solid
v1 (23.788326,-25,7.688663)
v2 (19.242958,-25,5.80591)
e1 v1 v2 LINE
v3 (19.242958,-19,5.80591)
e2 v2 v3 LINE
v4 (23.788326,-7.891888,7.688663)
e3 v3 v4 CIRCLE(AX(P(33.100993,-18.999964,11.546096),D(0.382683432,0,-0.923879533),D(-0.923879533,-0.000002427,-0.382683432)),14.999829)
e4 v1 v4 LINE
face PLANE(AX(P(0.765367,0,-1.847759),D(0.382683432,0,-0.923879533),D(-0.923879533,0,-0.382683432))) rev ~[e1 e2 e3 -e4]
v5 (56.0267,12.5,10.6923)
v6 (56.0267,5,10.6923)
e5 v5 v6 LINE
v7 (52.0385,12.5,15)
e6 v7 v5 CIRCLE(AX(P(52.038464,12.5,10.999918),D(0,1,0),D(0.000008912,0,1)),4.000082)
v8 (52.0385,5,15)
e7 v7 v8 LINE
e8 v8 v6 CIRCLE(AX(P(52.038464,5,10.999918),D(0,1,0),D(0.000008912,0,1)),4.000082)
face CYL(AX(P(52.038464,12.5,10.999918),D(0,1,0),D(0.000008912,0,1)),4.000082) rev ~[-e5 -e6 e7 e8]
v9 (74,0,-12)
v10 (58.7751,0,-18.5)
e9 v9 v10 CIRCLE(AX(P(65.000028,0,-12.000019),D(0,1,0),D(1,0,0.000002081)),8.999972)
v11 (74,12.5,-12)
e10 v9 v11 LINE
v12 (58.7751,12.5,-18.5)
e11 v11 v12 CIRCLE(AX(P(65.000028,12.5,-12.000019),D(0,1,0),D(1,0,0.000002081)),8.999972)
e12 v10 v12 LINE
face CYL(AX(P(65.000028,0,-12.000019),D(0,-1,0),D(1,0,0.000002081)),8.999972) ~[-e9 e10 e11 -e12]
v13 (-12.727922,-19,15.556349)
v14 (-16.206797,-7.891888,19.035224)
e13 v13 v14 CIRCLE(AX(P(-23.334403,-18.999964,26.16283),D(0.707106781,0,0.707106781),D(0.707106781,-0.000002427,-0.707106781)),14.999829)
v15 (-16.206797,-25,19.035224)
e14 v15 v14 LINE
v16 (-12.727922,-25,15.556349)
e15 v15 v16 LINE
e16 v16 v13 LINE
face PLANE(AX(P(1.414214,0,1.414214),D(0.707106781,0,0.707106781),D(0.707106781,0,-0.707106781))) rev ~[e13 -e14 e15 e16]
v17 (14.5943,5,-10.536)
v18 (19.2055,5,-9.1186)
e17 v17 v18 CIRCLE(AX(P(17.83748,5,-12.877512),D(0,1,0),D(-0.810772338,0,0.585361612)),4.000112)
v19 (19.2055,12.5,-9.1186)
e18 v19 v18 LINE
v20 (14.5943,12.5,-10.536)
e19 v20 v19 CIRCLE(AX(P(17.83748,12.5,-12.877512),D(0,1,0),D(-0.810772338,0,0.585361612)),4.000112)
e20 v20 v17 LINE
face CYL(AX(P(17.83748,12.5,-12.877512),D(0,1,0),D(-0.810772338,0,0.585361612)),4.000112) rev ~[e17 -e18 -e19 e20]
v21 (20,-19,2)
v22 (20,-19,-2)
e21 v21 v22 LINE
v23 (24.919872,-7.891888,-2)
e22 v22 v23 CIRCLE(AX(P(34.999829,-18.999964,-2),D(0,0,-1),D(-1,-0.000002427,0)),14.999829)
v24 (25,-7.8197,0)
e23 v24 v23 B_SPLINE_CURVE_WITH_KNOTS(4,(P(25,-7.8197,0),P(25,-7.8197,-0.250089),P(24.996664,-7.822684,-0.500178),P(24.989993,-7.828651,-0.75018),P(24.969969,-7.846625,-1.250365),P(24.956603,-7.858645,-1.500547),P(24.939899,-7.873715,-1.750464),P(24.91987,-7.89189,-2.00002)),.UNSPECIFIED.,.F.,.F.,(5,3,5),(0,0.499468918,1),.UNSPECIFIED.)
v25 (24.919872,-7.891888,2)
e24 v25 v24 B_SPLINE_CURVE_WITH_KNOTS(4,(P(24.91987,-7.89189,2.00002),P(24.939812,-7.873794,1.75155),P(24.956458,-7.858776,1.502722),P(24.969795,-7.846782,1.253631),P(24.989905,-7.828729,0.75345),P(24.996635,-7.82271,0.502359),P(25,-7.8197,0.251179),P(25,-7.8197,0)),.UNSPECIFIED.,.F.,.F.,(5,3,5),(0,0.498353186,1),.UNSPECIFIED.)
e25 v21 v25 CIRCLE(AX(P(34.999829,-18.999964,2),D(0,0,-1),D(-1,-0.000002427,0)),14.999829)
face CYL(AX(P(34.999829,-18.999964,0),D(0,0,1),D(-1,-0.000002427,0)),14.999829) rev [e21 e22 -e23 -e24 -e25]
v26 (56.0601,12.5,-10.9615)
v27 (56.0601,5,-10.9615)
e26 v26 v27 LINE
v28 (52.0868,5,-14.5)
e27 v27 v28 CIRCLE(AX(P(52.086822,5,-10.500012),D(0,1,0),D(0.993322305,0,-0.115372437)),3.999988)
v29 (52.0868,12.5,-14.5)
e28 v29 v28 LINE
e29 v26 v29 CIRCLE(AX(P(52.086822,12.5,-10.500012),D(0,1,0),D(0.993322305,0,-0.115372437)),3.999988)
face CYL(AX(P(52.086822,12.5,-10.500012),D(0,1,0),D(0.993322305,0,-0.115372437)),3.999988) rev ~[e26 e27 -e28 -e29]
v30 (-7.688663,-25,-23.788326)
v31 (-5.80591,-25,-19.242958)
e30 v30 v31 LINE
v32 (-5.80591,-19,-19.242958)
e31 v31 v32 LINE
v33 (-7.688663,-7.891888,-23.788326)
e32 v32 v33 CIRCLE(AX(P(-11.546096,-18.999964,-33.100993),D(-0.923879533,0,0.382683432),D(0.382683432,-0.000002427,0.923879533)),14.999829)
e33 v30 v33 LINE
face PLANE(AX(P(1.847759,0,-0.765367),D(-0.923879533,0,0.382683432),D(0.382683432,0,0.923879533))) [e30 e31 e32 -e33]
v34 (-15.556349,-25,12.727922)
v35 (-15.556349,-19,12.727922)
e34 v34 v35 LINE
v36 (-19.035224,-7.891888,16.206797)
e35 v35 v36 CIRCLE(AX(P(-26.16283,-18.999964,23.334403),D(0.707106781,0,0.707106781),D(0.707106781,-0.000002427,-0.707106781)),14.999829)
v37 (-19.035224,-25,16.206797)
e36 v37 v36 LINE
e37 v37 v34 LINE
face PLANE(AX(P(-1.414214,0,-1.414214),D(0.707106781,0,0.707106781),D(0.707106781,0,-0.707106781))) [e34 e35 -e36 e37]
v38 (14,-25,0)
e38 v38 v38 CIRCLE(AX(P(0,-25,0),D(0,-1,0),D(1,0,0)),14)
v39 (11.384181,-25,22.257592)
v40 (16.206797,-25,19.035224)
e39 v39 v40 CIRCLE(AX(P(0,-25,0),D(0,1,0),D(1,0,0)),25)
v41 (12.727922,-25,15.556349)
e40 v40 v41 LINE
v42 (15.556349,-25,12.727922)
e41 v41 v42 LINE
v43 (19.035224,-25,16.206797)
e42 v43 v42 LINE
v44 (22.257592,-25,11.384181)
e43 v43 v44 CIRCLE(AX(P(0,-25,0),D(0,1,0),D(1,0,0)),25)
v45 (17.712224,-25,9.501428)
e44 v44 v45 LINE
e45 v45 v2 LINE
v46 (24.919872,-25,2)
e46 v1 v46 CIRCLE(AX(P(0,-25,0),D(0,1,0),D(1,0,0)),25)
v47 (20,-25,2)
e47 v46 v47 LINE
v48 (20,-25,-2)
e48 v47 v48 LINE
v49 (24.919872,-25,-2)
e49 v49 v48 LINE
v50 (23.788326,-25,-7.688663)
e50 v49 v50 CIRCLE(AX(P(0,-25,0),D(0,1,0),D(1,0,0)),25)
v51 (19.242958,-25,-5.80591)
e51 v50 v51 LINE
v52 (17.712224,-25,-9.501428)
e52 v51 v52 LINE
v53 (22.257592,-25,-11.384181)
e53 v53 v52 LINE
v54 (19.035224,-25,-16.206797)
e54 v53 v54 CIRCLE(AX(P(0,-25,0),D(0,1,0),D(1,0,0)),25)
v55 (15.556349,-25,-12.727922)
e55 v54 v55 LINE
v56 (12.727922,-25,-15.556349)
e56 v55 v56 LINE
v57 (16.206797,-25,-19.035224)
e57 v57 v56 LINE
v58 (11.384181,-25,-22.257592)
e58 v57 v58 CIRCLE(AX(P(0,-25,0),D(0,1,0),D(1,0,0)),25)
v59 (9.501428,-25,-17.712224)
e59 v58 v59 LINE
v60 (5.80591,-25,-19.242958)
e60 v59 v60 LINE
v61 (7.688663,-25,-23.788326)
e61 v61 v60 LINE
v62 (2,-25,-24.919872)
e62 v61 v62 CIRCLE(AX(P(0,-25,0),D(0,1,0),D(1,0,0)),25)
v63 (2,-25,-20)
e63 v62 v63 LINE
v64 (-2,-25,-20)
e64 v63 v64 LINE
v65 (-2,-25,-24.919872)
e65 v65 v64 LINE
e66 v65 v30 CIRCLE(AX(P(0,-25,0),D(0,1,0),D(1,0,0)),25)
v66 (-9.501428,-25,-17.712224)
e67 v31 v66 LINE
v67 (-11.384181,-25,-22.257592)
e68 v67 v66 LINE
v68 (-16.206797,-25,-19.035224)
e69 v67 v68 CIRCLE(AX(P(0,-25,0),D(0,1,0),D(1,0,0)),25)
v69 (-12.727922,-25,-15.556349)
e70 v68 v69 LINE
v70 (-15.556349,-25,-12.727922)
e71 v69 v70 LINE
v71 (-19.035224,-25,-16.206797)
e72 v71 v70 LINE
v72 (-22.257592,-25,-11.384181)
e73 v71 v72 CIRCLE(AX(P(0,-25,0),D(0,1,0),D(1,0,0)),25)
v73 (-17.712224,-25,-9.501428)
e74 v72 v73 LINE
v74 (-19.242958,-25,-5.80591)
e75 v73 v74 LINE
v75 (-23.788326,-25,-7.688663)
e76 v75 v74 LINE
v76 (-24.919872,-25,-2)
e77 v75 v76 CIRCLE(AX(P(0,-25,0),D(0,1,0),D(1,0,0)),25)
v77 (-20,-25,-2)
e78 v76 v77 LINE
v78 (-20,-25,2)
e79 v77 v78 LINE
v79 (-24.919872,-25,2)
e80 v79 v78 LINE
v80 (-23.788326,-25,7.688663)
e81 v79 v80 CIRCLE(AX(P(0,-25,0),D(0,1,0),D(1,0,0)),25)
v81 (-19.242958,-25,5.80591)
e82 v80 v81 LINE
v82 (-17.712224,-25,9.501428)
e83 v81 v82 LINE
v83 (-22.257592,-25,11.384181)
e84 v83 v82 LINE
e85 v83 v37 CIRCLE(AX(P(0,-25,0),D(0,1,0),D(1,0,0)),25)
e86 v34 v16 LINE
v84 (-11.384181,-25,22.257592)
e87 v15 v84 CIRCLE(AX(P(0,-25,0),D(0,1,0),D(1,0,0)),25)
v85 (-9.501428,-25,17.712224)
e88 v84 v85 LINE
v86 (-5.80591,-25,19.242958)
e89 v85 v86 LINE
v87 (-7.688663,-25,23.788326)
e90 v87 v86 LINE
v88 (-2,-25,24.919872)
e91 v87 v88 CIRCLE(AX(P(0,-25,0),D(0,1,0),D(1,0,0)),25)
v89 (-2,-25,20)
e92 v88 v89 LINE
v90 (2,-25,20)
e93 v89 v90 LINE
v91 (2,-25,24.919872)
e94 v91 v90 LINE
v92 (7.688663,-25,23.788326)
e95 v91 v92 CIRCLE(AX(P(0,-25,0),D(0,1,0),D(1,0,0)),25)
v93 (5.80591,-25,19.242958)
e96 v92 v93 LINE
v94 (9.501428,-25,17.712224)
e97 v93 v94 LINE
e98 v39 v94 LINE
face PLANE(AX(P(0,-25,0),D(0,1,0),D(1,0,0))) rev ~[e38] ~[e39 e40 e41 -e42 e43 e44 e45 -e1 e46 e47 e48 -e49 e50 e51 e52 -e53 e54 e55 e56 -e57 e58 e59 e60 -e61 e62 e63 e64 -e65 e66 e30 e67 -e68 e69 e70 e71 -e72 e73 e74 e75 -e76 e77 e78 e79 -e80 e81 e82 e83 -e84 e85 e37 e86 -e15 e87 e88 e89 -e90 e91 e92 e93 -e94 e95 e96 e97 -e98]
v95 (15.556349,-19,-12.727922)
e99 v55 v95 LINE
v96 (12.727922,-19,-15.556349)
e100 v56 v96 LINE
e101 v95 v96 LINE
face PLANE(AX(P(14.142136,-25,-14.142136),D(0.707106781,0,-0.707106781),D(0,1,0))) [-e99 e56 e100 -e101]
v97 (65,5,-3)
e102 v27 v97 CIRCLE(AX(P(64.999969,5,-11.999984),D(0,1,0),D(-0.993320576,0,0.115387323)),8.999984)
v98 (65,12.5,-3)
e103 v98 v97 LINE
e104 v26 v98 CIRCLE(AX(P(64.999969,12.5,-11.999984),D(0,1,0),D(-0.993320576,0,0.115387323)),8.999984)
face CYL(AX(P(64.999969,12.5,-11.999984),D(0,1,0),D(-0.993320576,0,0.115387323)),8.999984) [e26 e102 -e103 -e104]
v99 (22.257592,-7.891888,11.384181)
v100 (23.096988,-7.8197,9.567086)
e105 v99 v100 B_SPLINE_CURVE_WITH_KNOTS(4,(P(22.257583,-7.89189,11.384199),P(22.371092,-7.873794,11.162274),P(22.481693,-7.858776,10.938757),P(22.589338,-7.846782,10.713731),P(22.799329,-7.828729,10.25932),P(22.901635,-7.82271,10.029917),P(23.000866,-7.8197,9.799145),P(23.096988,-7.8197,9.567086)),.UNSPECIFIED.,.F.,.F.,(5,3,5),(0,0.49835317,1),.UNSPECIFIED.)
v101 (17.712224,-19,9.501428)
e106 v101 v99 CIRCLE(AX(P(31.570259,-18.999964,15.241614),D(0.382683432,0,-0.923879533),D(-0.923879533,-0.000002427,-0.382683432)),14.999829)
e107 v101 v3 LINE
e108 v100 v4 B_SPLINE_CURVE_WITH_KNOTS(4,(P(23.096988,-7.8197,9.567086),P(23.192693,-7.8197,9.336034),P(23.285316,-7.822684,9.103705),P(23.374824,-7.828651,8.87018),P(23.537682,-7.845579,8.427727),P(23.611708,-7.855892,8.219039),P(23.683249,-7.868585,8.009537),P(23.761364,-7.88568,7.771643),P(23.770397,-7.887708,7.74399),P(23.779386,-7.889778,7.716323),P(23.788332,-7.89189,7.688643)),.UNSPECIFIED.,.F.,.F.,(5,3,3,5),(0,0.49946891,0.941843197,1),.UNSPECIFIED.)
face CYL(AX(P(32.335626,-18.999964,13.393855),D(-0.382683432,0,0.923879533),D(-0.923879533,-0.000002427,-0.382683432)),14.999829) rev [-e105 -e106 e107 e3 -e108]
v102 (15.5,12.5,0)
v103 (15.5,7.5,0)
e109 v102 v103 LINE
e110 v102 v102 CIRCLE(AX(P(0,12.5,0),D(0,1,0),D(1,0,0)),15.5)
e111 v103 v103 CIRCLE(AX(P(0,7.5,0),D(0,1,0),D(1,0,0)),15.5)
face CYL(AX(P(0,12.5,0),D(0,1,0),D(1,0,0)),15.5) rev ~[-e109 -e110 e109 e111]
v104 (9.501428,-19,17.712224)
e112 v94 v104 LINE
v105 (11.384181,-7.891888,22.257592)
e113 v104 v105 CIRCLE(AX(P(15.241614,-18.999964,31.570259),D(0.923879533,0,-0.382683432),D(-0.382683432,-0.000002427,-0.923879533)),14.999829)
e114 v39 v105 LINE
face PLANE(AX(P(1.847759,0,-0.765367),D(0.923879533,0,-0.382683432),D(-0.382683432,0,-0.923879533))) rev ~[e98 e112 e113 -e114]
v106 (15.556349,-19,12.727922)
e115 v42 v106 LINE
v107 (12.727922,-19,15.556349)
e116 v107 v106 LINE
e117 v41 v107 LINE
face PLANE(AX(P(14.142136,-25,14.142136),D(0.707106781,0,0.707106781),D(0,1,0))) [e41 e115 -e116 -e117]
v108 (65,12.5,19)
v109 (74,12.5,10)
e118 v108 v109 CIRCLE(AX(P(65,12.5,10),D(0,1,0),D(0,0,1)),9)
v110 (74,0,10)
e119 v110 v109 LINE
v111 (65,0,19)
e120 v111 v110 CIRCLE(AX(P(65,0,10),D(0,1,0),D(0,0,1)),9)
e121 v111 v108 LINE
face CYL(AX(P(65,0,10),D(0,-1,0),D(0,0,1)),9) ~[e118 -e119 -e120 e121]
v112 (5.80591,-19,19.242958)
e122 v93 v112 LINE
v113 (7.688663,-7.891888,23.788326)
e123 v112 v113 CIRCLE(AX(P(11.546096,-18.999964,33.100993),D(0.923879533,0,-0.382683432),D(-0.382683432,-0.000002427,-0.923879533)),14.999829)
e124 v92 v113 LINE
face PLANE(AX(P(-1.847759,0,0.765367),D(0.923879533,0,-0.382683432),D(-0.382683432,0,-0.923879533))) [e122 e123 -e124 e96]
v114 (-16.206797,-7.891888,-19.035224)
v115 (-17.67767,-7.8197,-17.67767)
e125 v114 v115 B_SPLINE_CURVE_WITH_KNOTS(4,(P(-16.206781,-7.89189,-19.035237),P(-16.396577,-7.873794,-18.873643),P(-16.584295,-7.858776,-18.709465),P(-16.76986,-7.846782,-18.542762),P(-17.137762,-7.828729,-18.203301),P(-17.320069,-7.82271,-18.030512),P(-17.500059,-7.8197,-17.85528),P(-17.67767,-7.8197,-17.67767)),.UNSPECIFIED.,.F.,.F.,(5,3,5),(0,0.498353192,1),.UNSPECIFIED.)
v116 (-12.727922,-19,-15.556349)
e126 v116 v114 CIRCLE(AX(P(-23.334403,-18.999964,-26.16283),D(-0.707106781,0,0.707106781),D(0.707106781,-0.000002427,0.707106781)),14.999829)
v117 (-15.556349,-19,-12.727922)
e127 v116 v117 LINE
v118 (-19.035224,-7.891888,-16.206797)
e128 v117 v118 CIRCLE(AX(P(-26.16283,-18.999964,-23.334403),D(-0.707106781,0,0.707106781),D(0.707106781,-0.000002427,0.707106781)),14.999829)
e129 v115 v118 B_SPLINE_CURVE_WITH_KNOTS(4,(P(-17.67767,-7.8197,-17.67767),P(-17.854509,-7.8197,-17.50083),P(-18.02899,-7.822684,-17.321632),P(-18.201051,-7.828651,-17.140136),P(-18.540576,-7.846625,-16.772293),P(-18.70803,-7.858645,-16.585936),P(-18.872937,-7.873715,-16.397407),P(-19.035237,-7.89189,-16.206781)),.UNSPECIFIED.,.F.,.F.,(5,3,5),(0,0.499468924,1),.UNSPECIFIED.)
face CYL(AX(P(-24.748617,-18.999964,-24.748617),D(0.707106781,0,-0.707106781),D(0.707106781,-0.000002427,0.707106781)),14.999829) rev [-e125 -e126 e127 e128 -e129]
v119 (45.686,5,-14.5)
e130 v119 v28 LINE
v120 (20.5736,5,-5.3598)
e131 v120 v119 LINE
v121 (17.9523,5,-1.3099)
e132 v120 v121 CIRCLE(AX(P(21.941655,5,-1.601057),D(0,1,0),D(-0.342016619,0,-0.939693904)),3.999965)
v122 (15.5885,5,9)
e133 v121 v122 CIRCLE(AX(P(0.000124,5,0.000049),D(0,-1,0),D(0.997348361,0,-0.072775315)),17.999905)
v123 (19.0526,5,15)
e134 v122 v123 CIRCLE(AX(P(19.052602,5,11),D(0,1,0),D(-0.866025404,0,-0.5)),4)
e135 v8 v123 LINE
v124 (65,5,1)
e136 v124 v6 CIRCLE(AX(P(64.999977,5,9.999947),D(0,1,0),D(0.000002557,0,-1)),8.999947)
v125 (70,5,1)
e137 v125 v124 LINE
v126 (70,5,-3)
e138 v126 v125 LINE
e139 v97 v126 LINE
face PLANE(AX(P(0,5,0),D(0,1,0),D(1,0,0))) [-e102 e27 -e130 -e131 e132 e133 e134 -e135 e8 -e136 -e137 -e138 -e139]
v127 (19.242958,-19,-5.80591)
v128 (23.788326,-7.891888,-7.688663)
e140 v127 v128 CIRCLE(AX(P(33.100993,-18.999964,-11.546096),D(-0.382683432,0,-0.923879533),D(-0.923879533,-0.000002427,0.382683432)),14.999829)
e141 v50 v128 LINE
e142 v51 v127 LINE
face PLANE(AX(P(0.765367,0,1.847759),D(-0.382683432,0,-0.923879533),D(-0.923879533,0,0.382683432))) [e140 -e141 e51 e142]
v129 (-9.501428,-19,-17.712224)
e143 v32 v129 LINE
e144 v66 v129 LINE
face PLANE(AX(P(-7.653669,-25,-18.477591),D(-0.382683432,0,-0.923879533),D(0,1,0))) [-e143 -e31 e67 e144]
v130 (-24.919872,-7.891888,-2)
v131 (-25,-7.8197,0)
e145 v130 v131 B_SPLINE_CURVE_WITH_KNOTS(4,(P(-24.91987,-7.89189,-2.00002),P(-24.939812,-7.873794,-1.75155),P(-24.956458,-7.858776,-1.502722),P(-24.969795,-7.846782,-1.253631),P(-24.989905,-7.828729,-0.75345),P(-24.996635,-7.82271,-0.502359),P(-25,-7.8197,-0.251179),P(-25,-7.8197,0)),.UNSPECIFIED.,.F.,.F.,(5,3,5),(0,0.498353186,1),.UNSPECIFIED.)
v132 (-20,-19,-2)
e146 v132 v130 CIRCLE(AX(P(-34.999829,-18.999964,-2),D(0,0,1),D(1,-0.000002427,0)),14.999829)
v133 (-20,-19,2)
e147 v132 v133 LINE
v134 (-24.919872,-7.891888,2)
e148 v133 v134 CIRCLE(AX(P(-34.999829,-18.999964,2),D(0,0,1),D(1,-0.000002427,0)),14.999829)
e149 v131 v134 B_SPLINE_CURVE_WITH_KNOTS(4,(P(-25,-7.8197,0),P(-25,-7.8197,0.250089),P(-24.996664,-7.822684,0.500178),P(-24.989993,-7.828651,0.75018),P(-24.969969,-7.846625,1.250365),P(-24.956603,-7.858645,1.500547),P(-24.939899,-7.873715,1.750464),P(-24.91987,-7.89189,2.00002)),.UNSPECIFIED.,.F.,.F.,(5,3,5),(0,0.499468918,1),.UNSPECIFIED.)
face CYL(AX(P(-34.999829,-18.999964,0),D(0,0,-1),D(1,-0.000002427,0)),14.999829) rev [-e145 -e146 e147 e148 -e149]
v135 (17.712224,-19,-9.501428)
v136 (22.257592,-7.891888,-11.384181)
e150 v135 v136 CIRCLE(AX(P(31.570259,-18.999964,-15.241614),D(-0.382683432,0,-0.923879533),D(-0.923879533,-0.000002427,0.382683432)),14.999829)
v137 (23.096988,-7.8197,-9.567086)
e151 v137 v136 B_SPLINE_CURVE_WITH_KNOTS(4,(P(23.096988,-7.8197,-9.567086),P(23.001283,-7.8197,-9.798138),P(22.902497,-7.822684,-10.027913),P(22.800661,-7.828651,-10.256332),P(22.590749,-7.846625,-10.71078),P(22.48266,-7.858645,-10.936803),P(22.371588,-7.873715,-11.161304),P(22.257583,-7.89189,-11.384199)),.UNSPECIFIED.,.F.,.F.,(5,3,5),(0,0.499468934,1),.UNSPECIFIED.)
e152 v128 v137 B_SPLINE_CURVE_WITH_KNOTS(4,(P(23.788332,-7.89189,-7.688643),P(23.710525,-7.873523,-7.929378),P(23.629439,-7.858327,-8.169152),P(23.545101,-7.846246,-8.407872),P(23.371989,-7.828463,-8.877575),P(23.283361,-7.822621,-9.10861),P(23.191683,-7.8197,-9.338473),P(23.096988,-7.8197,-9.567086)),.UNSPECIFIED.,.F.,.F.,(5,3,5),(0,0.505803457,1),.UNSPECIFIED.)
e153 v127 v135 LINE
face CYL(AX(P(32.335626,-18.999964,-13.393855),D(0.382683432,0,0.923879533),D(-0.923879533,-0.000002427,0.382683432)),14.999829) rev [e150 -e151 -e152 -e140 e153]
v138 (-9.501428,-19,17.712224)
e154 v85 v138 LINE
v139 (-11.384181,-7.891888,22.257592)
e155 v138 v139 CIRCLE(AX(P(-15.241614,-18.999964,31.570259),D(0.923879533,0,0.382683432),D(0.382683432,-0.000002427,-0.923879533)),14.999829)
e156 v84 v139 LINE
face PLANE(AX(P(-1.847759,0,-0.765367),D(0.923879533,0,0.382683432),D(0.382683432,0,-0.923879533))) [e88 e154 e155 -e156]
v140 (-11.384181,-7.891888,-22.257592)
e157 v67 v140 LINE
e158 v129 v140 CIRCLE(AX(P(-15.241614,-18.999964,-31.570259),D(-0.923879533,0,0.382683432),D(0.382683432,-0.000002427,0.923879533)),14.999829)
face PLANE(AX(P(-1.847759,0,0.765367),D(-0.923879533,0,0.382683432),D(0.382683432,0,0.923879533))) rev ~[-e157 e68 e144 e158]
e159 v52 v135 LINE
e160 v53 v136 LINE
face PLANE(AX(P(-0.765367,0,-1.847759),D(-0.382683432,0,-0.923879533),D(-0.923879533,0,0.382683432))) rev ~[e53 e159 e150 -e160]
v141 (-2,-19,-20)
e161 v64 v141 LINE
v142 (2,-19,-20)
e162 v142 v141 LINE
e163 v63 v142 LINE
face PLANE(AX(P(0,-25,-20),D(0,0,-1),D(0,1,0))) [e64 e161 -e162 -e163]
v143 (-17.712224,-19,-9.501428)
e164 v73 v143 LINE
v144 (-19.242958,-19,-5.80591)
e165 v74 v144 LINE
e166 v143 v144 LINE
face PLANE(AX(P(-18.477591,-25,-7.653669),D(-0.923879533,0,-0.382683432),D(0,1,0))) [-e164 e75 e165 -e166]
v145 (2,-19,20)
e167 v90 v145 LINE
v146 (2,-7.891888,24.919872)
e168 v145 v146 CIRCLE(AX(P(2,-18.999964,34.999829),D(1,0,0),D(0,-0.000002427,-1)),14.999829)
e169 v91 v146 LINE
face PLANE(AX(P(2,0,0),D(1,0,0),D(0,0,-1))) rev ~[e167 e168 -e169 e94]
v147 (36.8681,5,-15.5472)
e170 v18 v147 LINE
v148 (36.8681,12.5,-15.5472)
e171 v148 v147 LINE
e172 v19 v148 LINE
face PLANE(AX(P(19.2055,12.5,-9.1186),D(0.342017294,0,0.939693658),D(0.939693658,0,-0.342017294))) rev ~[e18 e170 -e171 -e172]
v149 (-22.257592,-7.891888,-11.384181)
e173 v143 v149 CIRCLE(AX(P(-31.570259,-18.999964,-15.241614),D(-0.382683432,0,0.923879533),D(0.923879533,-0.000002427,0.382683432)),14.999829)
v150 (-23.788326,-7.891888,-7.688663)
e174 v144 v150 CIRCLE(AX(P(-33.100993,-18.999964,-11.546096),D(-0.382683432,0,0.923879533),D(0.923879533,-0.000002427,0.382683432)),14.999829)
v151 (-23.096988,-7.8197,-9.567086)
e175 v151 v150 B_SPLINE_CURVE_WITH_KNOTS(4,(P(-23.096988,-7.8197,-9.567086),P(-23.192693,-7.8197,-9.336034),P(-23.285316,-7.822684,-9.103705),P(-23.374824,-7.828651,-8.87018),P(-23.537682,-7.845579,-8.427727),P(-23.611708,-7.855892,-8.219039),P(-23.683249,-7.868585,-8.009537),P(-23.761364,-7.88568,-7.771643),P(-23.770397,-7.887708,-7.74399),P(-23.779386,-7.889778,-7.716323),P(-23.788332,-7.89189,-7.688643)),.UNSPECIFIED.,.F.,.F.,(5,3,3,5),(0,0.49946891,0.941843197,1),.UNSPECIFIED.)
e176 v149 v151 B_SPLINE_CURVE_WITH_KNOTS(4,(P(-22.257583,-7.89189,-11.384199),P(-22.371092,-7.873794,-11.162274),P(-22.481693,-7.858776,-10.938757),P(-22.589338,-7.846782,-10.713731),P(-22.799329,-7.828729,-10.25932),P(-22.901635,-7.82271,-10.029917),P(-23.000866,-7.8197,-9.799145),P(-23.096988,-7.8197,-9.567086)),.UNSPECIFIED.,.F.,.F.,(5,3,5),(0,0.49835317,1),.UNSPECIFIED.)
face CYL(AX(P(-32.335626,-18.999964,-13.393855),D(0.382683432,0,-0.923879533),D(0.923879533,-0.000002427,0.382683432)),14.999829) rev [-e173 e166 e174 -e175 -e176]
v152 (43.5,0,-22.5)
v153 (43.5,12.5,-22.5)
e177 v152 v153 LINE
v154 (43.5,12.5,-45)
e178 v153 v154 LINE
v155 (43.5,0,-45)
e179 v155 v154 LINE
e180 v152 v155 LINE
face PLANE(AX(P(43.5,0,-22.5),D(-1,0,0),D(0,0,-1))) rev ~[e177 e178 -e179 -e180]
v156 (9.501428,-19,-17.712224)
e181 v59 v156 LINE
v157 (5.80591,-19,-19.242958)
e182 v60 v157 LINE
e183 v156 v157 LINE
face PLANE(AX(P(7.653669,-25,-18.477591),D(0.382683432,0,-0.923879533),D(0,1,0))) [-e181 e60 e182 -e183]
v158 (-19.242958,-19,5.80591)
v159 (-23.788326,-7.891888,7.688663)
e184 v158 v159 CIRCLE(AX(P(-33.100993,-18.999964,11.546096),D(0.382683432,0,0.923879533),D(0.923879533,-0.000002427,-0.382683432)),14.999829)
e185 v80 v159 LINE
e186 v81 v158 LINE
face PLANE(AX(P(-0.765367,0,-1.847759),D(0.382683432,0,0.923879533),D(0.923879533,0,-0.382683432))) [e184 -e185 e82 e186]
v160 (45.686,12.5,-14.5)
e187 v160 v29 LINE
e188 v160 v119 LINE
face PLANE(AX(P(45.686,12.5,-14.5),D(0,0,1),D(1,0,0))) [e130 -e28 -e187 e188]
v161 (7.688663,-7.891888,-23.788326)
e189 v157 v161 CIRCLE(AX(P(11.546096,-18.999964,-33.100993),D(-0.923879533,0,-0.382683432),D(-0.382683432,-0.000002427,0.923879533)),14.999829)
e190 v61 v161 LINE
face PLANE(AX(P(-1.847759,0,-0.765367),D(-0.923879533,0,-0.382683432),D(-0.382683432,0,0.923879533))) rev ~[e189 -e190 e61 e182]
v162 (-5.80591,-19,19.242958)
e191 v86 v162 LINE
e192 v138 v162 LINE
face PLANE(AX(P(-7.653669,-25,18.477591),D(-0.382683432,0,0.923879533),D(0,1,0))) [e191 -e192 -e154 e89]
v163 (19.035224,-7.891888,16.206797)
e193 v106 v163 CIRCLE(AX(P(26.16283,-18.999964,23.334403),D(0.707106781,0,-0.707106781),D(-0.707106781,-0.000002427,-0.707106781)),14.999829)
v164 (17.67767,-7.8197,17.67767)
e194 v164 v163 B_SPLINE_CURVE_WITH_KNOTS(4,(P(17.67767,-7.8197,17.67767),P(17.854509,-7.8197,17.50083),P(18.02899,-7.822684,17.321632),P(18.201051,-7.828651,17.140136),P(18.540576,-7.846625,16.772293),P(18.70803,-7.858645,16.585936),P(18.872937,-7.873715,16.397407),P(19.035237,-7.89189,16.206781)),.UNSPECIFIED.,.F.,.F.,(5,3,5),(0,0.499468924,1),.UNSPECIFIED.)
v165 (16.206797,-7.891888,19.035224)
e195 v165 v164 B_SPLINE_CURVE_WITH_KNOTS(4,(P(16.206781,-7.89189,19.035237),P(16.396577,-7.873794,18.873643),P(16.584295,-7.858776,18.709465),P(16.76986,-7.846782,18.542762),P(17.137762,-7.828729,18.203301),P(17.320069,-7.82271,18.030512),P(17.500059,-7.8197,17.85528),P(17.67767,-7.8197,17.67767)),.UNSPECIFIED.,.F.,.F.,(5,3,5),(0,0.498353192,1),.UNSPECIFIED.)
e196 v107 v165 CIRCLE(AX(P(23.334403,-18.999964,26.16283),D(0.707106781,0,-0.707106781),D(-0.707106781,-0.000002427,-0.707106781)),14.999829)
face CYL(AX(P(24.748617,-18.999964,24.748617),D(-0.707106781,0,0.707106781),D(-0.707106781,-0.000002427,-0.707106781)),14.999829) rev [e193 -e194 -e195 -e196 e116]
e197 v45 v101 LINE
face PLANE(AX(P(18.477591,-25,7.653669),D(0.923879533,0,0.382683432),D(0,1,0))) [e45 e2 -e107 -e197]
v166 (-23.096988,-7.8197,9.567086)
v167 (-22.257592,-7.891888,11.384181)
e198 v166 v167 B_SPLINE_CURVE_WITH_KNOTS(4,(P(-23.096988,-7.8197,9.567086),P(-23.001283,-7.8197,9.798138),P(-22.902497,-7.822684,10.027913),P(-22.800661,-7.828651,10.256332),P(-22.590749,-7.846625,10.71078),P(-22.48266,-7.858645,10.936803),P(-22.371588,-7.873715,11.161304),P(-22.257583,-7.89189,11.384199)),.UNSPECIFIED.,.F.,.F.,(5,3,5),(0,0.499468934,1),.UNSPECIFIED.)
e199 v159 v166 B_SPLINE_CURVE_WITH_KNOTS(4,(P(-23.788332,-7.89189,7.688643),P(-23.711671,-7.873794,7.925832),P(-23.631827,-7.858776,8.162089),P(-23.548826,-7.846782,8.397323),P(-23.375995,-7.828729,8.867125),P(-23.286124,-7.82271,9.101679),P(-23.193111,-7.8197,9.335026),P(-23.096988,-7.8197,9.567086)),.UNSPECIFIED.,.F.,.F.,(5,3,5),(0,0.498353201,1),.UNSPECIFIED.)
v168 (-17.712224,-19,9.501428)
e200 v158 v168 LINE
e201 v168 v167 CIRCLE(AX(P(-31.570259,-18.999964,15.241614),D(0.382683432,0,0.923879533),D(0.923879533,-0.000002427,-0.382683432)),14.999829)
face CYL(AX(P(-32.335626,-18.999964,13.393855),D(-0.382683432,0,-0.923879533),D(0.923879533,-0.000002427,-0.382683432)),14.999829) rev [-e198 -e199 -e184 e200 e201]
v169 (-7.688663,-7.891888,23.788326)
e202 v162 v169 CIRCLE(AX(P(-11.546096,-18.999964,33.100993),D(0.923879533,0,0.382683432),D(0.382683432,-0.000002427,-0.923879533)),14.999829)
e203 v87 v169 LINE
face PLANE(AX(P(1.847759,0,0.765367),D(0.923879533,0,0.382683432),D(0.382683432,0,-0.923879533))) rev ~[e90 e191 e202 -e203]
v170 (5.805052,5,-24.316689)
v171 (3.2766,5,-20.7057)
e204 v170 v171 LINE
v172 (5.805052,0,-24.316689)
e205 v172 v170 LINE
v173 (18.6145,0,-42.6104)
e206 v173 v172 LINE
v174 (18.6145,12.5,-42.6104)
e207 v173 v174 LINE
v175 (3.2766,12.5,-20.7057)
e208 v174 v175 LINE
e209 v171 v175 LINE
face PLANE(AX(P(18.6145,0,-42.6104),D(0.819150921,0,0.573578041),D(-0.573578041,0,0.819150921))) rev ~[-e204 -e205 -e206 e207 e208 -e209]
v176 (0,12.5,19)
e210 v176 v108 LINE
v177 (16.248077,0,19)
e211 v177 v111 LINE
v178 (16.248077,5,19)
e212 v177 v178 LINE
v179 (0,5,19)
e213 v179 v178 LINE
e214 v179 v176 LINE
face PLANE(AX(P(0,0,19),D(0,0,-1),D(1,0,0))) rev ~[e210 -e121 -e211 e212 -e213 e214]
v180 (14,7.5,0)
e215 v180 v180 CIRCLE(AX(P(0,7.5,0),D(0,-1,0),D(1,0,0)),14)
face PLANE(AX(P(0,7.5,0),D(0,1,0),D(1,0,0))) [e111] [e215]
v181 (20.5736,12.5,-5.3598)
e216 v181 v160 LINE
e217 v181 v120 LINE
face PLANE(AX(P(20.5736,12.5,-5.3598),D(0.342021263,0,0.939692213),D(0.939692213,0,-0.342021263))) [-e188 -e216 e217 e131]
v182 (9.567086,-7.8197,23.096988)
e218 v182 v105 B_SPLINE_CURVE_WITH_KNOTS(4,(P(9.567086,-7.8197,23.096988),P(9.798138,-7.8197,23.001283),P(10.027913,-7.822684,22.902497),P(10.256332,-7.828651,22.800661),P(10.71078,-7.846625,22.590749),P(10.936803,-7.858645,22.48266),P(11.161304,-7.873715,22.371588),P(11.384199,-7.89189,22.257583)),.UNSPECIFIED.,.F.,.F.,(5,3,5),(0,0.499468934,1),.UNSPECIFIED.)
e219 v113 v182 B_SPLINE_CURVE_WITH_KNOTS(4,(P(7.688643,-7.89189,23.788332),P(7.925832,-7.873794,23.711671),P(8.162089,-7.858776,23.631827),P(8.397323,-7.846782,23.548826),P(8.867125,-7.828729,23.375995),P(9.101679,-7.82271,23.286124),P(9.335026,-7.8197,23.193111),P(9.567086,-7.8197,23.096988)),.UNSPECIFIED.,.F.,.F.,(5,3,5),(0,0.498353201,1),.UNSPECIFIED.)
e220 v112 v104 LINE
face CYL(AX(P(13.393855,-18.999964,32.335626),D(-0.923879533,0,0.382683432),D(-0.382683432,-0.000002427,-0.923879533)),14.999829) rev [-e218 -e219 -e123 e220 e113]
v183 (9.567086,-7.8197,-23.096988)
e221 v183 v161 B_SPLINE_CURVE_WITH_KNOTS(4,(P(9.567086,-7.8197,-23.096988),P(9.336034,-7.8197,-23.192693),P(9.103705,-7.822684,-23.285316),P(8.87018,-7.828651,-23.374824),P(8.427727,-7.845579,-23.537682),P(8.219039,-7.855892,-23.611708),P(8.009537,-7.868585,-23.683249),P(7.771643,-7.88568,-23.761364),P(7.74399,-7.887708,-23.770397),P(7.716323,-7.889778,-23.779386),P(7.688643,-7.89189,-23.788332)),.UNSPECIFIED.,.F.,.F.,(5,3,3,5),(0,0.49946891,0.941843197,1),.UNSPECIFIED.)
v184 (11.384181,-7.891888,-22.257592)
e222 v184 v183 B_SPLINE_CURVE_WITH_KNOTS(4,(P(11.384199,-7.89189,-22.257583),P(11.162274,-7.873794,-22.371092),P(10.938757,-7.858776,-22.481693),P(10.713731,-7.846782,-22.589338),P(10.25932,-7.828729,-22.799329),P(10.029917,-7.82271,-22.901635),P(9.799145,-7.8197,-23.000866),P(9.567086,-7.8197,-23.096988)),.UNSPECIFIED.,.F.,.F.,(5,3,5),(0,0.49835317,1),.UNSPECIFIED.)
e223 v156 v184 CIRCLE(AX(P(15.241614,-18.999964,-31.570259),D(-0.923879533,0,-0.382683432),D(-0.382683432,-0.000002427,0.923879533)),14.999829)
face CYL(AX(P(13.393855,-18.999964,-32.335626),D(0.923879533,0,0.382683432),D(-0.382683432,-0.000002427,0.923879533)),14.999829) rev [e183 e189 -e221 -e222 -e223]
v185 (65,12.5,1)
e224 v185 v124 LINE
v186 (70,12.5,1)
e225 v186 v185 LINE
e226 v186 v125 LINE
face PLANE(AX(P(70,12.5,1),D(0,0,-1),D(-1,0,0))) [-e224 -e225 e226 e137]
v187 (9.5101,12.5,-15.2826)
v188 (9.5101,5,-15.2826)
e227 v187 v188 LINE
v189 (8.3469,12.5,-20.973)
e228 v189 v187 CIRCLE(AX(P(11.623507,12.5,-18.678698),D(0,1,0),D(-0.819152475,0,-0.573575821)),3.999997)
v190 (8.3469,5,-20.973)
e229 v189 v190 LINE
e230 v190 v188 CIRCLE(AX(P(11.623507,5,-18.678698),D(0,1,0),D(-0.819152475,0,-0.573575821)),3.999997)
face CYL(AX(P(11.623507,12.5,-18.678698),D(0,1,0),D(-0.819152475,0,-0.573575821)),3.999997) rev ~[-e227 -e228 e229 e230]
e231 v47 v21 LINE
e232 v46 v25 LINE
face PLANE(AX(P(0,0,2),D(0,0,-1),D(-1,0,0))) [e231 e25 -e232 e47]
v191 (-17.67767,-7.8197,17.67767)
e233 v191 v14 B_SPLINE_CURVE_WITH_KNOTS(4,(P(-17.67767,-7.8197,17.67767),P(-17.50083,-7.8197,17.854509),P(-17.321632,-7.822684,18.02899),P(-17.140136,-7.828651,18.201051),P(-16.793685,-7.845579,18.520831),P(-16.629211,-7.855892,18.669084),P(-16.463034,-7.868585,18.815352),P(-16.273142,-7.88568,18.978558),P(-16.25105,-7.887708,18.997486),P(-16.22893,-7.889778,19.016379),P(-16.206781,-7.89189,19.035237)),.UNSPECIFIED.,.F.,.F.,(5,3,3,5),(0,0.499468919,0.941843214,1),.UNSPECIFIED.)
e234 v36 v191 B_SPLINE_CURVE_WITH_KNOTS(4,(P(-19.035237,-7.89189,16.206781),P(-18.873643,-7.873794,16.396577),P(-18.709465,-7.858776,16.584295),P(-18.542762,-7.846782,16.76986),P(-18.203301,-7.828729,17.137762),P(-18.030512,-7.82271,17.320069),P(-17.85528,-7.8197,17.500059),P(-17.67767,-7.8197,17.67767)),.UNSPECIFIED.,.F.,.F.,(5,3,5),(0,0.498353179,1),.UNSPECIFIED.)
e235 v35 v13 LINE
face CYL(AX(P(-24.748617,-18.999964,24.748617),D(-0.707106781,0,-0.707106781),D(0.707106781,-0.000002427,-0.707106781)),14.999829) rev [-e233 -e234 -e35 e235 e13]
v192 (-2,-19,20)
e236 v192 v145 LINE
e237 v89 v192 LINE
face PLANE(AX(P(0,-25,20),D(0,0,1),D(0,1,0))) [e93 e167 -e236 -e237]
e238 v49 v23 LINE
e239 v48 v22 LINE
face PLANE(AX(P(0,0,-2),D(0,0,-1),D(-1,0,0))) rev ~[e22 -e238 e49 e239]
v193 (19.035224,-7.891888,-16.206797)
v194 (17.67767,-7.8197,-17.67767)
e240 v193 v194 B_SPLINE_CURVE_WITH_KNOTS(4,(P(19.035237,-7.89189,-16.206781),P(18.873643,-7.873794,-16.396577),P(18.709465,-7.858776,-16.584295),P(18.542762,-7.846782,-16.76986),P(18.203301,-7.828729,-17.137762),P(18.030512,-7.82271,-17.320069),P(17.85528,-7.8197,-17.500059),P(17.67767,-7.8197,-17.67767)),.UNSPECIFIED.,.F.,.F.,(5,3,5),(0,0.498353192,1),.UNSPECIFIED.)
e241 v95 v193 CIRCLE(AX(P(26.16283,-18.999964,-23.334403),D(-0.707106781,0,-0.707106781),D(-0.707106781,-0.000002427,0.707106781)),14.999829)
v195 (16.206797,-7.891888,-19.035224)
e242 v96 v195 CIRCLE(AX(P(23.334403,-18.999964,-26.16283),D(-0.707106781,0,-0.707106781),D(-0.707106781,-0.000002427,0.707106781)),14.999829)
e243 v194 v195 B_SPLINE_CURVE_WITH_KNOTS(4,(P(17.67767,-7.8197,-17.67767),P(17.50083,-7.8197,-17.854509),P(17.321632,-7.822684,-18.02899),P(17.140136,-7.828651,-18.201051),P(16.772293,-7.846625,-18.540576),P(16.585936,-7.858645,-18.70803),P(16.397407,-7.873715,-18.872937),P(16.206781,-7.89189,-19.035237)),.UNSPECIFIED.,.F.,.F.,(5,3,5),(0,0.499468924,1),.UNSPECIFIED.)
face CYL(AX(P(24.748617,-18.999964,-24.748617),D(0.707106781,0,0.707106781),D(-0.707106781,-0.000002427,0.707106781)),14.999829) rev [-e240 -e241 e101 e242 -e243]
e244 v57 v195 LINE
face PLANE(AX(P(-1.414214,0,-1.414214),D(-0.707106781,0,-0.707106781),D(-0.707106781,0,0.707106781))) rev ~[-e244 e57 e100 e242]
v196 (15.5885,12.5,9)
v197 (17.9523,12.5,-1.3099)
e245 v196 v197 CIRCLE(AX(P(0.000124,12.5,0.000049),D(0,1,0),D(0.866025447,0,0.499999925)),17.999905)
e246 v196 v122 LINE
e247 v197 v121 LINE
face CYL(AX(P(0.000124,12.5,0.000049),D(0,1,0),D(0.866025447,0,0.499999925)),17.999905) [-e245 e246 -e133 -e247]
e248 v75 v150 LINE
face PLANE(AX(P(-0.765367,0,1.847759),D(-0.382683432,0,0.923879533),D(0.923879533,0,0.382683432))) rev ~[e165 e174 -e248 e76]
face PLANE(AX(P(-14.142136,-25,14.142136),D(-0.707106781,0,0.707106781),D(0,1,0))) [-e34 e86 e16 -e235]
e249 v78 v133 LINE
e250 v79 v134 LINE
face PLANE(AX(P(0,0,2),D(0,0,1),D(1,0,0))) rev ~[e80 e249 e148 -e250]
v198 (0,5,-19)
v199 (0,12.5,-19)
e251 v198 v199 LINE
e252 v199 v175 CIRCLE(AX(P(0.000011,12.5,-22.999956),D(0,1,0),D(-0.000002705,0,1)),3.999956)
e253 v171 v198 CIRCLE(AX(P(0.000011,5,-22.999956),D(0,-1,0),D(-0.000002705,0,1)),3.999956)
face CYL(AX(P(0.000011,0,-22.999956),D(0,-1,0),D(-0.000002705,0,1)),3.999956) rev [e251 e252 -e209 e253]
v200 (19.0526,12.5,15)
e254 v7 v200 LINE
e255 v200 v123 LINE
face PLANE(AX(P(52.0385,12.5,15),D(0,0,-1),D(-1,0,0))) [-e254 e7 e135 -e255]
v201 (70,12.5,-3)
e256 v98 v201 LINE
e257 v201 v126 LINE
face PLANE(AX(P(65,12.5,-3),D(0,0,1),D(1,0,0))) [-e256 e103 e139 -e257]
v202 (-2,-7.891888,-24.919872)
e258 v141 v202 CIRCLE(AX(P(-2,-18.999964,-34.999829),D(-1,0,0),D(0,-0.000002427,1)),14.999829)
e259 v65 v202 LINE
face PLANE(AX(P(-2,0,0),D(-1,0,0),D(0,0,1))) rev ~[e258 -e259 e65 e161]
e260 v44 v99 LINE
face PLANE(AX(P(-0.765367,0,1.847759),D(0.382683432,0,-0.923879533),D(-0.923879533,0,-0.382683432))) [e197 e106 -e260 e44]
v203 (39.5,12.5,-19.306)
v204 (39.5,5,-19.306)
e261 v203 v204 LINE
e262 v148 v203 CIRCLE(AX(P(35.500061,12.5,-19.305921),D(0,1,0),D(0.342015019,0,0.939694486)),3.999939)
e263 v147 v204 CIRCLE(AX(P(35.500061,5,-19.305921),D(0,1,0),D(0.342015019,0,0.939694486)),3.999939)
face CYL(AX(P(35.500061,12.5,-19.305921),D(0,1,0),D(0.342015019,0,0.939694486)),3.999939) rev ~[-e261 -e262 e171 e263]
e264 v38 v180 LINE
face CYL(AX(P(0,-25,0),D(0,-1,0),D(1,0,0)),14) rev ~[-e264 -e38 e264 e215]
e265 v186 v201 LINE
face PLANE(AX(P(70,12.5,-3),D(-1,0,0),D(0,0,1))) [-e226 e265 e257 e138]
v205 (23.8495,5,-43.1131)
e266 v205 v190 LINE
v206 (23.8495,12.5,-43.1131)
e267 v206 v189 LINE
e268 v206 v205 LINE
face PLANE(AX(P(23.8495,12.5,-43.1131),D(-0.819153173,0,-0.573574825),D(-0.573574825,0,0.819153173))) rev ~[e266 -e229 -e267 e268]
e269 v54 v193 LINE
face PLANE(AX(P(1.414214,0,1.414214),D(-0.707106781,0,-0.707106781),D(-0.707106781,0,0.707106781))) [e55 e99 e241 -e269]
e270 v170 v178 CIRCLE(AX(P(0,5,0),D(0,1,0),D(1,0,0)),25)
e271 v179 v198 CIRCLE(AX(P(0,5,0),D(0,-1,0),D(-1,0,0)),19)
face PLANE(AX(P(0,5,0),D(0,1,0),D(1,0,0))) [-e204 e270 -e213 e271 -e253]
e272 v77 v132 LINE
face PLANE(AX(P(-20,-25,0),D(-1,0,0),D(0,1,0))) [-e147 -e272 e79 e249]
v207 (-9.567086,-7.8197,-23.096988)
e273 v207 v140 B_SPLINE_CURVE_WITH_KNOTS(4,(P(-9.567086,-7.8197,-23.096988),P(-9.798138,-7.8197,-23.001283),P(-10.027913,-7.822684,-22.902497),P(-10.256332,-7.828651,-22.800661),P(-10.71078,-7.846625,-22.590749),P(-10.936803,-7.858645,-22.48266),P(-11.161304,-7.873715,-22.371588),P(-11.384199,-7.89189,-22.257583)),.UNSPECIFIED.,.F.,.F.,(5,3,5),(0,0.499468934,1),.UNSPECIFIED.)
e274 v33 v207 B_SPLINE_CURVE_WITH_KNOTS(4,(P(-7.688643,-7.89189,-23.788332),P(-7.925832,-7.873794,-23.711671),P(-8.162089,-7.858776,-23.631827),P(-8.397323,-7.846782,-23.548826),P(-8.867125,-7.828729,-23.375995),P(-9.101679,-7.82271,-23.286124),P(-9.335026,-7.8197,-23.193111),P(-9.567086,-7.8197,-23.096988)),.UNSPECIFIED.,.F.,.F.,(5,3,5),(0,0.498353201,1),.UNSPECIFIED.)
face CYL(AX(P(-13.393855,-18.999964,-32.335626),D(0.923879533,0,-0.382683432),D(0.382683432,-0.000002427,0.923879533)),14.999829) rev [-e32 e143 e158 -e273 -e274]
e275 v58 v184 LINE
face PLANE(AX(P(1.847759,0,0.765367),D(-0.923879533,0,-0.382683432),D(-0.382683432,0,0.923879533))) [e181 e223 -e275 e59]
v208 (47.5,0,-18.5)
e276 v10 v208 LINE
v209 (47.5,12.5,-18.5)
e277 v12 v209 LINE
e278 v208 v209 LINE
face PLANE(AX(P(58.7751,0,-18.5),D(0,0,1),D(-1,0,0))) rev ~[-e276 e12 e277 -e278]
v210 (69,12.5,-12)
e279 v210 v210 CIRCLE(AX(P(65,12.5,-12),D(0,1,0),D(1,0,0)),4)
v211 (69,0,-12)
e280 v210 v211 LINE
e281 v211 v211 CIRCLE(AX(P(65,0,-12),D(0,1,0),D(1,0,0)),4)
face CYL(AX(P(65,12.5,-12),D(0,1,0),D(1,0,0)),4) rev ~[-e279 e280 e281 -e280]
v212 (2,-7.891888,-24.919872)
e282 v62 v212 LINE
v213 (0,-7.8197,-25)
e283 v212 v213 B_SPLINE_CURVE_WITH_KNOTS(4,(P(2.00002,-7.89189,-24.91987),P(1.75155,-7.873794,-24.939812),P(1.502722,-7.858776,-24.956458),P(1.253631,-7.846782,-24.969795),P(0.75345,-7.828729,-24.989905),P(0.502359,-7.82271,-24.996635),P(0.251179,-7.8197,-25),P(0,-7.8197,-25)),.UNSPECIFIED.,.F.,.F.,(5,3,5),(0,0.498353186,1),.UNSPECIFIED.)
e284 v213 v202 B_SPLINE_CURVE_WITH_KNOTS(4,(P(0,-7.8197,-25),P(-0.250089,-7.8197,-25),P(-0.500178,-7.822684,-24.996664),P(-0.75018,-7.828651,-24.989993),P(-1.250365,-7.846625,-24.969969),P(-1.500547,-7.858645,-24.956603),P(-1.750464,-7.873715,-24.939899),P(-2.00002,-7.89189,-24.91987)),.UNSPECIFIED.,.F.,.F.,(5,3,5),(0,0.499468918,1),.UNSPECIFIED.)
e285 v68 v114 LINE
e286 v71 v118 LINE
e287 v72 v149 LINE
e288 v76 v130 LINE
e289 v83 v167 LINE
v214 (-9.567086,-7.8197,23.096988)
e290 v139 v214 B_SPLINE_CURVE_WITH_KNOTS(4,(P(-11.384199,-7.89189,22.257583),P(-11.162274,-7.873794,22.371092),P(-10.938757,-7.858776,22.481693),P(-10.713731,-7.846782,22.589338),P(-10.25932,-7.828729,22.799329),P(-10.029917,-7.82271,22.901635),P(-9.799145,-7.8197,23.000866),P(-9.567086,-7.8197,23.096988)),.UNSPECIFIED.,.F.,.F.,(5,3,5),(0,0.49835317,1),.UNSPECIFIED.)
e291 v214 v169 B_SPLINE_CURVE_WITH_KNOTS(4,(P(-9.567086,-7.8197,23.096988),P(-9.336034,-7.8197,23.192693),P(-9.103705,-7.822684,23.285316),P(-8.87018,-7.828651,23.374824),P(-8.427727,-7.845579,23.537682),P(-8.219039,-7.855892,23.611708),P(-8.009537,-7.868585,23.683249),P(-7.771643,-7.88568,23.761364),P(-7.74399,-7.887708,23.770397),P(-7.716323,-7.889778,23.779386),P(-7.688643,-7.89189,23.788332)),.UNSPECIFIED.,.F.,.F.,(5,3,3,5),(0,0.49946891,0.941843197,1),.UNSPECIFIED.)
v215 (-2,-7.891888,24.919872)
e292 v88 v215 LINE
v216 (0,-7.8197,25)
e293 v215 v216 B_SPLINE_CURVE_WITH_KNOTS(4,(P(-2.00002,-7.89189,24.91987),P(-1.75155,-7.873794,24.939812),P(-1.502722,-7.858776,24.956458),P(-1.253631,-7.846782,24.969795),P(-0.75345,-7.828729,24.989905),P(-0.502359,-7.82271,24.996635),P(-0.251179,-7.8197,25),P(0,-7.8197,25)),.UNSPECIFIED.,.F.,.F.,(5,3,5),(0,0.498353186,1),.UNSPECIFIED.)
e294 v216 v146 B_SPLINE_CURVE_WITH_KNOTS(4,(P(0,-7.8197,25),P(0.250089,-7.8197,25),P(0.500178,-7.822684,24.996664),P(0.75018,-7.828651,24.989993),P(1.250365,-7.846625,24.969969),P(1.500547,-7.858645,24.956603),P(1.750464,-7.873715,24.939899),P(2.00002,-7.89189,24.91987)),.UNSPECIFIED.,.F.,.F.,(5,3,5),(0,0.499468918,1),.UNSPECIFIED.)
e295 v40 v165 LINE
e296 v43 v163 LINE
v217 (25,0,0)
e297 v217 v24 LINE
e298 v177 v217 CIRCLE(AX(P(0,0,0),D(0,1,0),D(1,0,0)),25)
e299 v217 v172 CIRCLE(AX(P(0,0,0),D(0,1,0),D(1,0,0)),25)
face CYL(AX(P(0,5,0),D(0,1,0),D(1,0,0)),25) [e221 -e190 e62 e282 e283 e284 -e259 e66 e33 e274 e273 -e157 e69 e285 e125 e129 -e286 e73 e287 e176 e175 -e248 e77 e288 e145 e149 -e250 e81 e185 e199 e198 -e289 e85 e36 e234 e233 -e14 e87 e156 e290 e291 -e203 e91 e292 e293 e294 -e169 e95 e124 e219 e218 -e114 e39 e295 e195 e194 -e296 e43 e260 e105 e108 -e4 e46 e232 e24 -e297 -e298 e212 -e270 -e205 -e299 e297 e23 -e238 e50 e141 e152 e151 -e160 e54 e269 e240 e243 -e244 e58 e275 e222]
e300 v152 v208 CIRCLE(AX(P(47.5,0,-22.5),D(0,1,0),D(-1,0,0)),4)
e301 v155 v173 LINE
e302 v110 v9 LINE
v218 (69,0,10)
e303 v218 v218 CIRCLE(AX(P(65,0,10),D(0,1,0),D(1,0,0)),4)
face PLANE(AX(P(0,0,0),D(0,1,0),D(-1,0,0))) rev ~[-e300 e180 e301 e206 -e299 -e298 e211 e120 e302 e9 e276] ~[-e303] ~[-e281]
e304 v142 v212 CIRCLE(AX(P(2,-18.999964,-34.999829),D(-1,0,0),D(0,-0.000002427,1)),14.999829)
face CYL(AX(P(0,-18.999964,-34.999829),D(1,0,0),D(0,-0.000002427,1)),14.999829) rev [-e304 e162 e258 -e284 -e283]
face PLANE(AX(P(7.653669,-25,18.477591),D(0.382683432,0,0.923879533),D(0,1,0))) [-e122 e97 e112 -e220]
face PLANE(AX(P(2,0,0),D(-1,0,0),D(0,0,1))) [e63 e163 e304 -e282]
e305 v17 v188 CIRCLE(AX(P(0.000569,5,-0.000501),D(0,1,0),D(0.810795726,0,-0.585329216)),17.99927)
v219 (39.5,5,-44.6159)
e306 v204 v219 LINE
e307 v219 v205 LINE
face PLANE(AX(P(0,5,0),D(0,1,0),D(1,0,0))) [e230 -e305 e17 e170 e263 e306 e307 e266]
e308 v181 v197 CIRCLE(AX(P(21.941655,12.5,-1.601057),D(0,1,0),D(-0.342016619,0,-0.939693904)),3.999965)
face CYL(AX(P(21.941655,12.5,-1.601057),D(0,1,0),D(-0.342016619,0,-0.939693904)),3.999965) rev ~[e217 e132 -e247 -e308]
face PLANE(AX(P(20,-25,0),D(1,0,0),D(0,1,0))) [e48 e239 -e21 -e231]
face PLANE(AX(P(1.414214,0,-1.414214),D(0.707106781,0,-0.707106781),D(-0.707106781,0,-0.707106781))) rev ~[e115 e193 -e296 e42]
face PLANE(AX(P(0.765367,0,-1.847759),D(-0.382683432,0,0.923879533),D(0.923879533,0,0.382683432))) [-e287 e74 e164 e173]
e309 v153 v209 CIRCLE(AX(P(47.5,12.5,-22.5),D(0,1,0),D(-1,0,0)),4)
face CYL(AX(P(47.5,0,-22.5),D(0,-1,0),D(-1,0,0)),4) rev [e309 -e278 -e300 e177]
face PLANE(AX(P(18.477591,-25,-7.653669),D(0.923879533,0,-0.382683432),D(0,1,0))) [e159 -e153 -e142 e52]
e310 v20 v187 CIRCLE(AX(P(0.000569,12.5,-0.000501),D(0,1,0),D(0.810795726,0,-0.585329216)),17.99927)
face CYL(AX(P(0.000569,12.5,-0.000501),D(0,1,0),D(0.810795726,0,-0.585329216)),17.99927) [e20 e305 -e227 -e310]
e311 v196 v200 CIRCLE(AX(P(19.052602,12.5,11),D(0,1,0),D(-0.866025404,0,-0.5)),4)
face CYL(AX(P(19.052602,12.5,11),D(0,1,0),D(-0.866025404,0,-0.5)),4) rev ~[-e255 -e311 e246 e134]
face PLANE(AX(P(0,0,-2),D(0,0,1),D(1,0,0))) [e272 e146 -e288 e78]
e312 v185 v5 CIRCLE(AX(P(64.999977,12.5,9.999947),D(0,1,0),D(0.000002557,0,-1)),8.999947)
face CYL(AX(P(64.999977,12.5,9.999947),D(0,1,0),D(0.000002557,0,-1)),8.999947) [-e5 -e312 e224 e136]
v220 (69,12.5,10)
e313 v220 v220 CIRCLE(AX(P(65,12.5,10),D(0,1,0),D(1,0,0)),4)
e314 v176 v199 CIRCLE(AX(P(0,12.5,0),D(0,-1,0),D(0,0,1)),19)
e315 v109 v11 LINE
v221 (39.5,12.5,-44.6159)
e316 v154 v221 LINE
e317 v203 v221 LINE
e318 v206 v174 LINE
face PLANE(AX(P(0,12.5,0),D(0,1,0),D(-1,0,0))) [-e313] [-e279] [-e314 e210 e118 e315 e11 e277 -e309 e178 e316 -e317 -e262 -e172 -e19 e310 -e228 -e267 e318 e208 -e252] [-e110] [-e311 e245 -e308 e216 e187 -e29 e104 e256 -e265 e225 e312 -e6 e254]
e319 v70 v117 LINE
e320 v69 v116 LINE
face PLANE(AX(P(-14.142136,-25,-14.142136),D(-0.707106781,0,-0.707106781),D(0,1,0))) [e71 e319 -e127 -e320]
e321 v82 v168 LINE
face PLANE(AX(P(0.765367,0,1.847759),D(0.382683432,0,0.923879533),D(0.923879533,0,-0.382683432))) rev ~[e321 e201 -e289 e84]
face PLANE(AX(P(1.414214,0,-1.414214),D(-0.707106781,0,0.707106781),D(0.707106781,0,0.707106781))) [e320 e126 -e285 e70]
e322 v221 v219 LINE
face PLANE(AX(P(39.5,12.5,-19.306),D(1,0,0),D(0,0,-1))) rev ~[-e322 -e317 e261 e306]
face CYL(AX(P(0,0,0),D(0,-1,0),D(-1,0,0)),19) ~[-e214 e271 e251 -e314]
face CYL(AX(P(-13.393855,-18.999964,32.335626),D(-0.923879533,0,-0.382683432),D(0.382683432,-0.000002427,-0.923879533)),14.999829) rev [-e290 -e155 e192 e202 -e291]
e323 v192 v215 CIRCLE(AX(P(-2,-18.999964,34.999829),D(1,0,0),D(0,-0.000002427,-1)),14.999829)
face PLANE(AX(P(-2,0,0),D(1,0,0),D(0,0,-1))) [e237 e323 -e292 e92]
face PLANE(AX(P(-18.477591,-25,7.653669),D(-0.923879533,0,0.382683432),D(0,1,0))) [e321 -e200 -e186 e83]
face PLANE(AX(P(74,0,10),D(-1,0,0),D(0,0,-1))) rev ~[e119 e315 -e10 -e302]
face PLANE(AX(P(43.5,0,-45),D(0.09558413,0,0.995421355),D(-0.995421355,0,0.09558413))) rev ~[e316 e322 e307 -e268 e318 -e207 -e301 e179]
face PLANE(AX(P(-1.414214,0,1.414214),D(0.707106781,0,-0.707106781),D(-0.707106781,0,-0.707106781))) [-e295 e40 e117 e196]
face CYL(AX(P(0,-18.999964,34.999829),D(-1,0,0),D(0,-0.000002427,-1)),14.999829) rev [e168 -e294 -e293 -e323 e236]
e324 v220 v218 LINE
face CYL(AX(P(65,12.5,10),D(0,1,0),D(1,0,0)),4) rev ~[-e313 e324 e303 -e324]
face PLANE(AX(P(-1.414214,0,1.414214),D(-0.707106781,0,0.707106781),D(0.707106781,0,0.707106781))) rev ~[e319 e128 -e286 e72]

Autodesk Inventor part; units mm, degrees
ref_plane "YZ Plane" through (0, 0, 0) normal (1, 0, 0) x (0, 1, 0)
ref_plane "XZ Plane" through (0, 0, 0) normal (0, 1, 0) x (-1, 0, 0)
sketch "Sketch1" plane through (0, 0, 0) normal (0, 1, 0) x (-1, 0, 0)
  circle A0 centre (0, 0) radius 19
  line L0 (0, 19) -> (-65, 19)
  line L1 (-74, 10) -> (-74, -12)
  arc A1 (-74, -12) -> (-58.7751, -18.5) centre (-65, -12) ccw
  line L2 (-58.7751, -18.5) -> (-47.5, -18.5)
  arc A2 (-43.5, -22.5) -> (-47.5, -18.5) centre (-47.5, -22.5) ccw
  line L3 (-43.5, -22.5) -> (-43.5, -45)
  line L4 (-43.5, -45) -> (-18.6145, -42.6104)
  line L5 (-18.6145, -42.6104) -> (-3.2766, -20.7057)
  arc A3 (0, -19) -> (-3.2766, -20.7057) centre (0, -23) ccw
  line L6 (0, 19) -> (0, -19) construction
  arc A4 (-65, 19) -> (-74, 10) centre (-65, 10) ccw
  point P0 (-74, 19)
  dimension "d0" = 38
  dimension "d1" = 74
  dimension "d2" = 35
  dimension "d3" = 25
  dimension "d4" = 43.5
  dimension "d5" = 9
  dimension "d6" = 64
  dimension "d7" = 37.5
  dimension "d8" = 4
  dimension "d9" = 22
extrude "Extrusion1" add sketch "Sketch1" along normal blind 12.5
ref_plane "Work Plane1" through (0, 5, 0) normal (0, 1, 0) x (1, 0, 0)
sketch "Sketch2" plane through (0, 5, 0) normal (0, 1, 0) x (1, 0, 0)
  arc A0 (0, 19) -> (0, -19) centre (0, 0) ccw projected
  circle A1 centre (0, 0) radius 25
  dimension "d13" = 50
extrude "Extrusion2" add sketch "Sketch2" against normal blind 30
sketch "Sketch3" plane through (0, -25, 0) normal (0, -1, 0) x (1, 0, 0)
  circle A0 centre (0, 0) radius 25 projected
  circle A1 centre (0, 0) radius 14
  dimension "d16" = 28
extrude "Extrusion3" cut sketch "Sketch3" against normal through all contours A1
sketch "Sketch4" plane through (0, 12.5, 0) normal (0, 1, 0) x (1, 0, 0)
  arc A0 (0, 19) -> (0, -19) centre (0, 0) ccw projected
  circle A1 centre (0, 0) radius 15.5
  dimension "d19" = 31
extrude "Extrusion4" cut sketch "Sketch4" against normal blind 5
sketch "Sketch5" plane through (0, 0, 0) normal (0, 0, 1) x (1, 0, 0)
  line L0 (-20, -25) -> (-20, -19)
  arc A0 (-20, -19) -> (-25, -7.8197) centre (-35, -19) ccw
  line L1 (-25, -25) -> (25, -25) projected
  line L2 (-25, 5) -> (-25, -25) projected
  point P0 (0, 0)
  point P1 (0, -25)
  dimension "d22" = 15
  dimension "d23" = 6
  dimension "d24" = 20
extrude "Extrusion5" cut sketch "Sketch5" along normal mid plane 4
pattern_circular "Circular Pattern1" count 16 over 360 about axis through (0, -10, 0) along (0, 1, 0) of "Extrusion5"
sketch "Sketch6" plane through (0, 12.5, 0) normal (0, 1, 0) x (1, 0, 0)
  circle A0 centre (0, 0) radius 15.5 projected
  line L0 (0, -19) -> (65, -19) projected
  arc A1 (65, -19) -> (74, -10) centre (65, -10) ccw projected
  line L1 (74, -10) -> (74, 12) projected
  arc A2 (74, 12) -> (58.7751, 18.5) centre (65, 12) ccw projected
  line L2 (58.7751, 18.5) -> (47.5, 18.5) projected
  line L3 (43.5, 22.5) -> (43.5, 45) projected
  line L4 (43.5, 45) -> (18.6145, 42.6104) projected
  line L5 (18.6145, 42.6104) -> (3.2766, 20.7057) projected
  line L6 (23.8495, 43.1131) -> (8.3469, 20.973)
  arc A3 (8.3469, 20.973) -> (9.5101, 15.2826) centre (11.6235, 18.6787) ccw
  arc A4 (14.5943, 10.536) -> (9.5101, 15.2826) centre (0, 0) ccw
  arc A5 (14.5943, 10.536) -> (19.2055, 9.1186) centre (17.8374, 12.8774) ccw
  line L7 (19.2055, 9.1186) -> (36.8681, 15.5472)
  line L8 (39.5, 19.306) -> (39.5, 44.6159)
  arc A6 (36.8681, 15.5472) -> (39.5, 19.306) centre (35.5, 19.306) ccw
  line L9 (52.0385, -15) -> (19.0526, -15)
  arc A7 (15.5885, -9) -> (19.0526, -15) centre (19.0526, -11) ccw
  arc A8 (20.5736, 5.3598) -> (17.9523, 1.3099) centre (21.9417, 1.601) ccw
  line L10 (20.5736, 5.3598) -> (45.686, 14.5)
  line L11 (45.686, 14.5) -> (52.0868, 14.5)
  arc A9 (56.0601, 10.9615) -> (52.0868, 14.5) centre (52.0868, 10.5) ccw
  arc A10 (56.0601, 10.9615) -> (65, 3) centre (65, 12) ccw
  arc A11 (65, -1) -> (56.0267, -10.6923) centre (65, -10) ccw
  arc A12 (52.0385, -15) -> (56.0267, -10.6923) centre (52.0385, -11) ccw
  circle A13 centre (65, 12) radius 4
  circle A14 centre (65, -10) radius 4
  arc A15 (15.5885, -9) -> (17.9523, 1.3099) centre (0, 0) ccw
  line L12 (0, 0) -> (34.3054, 12.4861) construction
  line L13 (65, 3) -> (70, 3)
  line L14 (70, 3) -> (70, -1)
  line L15 (70, -1) -> (65, -1)
  line L16 (-45.2307, 0) -> (96.3758, 0) projected
  circle A16 centre (0, 0) radius 14 projected
  dimension "d30" = 4
  dimension "d31" = 4
  dimension "d32" = 4
  dimension "d34" = 8
  dimension "d35" = 4
  dimension "d36" = 4
  dimension "d37" = 4
  dimension "d38" = 20
  dimension "d39" = 4
  dimension "d40" = 4
extrude "Extrusion6" cut sketch "Sketch6" against normal through all contours A13 | A14
extrude "Extrusion7" cut sketch "Sketch6" against normal up to surface (7.5 mm away) contours A15 A8 L10 L11 A9 A10 L13 L14 L16 | L16 L14 L15 A11 A12 L9 A7 A15 | L8 A6 L7 A5 A4 A3 L6 L4
properties part number "b6"
